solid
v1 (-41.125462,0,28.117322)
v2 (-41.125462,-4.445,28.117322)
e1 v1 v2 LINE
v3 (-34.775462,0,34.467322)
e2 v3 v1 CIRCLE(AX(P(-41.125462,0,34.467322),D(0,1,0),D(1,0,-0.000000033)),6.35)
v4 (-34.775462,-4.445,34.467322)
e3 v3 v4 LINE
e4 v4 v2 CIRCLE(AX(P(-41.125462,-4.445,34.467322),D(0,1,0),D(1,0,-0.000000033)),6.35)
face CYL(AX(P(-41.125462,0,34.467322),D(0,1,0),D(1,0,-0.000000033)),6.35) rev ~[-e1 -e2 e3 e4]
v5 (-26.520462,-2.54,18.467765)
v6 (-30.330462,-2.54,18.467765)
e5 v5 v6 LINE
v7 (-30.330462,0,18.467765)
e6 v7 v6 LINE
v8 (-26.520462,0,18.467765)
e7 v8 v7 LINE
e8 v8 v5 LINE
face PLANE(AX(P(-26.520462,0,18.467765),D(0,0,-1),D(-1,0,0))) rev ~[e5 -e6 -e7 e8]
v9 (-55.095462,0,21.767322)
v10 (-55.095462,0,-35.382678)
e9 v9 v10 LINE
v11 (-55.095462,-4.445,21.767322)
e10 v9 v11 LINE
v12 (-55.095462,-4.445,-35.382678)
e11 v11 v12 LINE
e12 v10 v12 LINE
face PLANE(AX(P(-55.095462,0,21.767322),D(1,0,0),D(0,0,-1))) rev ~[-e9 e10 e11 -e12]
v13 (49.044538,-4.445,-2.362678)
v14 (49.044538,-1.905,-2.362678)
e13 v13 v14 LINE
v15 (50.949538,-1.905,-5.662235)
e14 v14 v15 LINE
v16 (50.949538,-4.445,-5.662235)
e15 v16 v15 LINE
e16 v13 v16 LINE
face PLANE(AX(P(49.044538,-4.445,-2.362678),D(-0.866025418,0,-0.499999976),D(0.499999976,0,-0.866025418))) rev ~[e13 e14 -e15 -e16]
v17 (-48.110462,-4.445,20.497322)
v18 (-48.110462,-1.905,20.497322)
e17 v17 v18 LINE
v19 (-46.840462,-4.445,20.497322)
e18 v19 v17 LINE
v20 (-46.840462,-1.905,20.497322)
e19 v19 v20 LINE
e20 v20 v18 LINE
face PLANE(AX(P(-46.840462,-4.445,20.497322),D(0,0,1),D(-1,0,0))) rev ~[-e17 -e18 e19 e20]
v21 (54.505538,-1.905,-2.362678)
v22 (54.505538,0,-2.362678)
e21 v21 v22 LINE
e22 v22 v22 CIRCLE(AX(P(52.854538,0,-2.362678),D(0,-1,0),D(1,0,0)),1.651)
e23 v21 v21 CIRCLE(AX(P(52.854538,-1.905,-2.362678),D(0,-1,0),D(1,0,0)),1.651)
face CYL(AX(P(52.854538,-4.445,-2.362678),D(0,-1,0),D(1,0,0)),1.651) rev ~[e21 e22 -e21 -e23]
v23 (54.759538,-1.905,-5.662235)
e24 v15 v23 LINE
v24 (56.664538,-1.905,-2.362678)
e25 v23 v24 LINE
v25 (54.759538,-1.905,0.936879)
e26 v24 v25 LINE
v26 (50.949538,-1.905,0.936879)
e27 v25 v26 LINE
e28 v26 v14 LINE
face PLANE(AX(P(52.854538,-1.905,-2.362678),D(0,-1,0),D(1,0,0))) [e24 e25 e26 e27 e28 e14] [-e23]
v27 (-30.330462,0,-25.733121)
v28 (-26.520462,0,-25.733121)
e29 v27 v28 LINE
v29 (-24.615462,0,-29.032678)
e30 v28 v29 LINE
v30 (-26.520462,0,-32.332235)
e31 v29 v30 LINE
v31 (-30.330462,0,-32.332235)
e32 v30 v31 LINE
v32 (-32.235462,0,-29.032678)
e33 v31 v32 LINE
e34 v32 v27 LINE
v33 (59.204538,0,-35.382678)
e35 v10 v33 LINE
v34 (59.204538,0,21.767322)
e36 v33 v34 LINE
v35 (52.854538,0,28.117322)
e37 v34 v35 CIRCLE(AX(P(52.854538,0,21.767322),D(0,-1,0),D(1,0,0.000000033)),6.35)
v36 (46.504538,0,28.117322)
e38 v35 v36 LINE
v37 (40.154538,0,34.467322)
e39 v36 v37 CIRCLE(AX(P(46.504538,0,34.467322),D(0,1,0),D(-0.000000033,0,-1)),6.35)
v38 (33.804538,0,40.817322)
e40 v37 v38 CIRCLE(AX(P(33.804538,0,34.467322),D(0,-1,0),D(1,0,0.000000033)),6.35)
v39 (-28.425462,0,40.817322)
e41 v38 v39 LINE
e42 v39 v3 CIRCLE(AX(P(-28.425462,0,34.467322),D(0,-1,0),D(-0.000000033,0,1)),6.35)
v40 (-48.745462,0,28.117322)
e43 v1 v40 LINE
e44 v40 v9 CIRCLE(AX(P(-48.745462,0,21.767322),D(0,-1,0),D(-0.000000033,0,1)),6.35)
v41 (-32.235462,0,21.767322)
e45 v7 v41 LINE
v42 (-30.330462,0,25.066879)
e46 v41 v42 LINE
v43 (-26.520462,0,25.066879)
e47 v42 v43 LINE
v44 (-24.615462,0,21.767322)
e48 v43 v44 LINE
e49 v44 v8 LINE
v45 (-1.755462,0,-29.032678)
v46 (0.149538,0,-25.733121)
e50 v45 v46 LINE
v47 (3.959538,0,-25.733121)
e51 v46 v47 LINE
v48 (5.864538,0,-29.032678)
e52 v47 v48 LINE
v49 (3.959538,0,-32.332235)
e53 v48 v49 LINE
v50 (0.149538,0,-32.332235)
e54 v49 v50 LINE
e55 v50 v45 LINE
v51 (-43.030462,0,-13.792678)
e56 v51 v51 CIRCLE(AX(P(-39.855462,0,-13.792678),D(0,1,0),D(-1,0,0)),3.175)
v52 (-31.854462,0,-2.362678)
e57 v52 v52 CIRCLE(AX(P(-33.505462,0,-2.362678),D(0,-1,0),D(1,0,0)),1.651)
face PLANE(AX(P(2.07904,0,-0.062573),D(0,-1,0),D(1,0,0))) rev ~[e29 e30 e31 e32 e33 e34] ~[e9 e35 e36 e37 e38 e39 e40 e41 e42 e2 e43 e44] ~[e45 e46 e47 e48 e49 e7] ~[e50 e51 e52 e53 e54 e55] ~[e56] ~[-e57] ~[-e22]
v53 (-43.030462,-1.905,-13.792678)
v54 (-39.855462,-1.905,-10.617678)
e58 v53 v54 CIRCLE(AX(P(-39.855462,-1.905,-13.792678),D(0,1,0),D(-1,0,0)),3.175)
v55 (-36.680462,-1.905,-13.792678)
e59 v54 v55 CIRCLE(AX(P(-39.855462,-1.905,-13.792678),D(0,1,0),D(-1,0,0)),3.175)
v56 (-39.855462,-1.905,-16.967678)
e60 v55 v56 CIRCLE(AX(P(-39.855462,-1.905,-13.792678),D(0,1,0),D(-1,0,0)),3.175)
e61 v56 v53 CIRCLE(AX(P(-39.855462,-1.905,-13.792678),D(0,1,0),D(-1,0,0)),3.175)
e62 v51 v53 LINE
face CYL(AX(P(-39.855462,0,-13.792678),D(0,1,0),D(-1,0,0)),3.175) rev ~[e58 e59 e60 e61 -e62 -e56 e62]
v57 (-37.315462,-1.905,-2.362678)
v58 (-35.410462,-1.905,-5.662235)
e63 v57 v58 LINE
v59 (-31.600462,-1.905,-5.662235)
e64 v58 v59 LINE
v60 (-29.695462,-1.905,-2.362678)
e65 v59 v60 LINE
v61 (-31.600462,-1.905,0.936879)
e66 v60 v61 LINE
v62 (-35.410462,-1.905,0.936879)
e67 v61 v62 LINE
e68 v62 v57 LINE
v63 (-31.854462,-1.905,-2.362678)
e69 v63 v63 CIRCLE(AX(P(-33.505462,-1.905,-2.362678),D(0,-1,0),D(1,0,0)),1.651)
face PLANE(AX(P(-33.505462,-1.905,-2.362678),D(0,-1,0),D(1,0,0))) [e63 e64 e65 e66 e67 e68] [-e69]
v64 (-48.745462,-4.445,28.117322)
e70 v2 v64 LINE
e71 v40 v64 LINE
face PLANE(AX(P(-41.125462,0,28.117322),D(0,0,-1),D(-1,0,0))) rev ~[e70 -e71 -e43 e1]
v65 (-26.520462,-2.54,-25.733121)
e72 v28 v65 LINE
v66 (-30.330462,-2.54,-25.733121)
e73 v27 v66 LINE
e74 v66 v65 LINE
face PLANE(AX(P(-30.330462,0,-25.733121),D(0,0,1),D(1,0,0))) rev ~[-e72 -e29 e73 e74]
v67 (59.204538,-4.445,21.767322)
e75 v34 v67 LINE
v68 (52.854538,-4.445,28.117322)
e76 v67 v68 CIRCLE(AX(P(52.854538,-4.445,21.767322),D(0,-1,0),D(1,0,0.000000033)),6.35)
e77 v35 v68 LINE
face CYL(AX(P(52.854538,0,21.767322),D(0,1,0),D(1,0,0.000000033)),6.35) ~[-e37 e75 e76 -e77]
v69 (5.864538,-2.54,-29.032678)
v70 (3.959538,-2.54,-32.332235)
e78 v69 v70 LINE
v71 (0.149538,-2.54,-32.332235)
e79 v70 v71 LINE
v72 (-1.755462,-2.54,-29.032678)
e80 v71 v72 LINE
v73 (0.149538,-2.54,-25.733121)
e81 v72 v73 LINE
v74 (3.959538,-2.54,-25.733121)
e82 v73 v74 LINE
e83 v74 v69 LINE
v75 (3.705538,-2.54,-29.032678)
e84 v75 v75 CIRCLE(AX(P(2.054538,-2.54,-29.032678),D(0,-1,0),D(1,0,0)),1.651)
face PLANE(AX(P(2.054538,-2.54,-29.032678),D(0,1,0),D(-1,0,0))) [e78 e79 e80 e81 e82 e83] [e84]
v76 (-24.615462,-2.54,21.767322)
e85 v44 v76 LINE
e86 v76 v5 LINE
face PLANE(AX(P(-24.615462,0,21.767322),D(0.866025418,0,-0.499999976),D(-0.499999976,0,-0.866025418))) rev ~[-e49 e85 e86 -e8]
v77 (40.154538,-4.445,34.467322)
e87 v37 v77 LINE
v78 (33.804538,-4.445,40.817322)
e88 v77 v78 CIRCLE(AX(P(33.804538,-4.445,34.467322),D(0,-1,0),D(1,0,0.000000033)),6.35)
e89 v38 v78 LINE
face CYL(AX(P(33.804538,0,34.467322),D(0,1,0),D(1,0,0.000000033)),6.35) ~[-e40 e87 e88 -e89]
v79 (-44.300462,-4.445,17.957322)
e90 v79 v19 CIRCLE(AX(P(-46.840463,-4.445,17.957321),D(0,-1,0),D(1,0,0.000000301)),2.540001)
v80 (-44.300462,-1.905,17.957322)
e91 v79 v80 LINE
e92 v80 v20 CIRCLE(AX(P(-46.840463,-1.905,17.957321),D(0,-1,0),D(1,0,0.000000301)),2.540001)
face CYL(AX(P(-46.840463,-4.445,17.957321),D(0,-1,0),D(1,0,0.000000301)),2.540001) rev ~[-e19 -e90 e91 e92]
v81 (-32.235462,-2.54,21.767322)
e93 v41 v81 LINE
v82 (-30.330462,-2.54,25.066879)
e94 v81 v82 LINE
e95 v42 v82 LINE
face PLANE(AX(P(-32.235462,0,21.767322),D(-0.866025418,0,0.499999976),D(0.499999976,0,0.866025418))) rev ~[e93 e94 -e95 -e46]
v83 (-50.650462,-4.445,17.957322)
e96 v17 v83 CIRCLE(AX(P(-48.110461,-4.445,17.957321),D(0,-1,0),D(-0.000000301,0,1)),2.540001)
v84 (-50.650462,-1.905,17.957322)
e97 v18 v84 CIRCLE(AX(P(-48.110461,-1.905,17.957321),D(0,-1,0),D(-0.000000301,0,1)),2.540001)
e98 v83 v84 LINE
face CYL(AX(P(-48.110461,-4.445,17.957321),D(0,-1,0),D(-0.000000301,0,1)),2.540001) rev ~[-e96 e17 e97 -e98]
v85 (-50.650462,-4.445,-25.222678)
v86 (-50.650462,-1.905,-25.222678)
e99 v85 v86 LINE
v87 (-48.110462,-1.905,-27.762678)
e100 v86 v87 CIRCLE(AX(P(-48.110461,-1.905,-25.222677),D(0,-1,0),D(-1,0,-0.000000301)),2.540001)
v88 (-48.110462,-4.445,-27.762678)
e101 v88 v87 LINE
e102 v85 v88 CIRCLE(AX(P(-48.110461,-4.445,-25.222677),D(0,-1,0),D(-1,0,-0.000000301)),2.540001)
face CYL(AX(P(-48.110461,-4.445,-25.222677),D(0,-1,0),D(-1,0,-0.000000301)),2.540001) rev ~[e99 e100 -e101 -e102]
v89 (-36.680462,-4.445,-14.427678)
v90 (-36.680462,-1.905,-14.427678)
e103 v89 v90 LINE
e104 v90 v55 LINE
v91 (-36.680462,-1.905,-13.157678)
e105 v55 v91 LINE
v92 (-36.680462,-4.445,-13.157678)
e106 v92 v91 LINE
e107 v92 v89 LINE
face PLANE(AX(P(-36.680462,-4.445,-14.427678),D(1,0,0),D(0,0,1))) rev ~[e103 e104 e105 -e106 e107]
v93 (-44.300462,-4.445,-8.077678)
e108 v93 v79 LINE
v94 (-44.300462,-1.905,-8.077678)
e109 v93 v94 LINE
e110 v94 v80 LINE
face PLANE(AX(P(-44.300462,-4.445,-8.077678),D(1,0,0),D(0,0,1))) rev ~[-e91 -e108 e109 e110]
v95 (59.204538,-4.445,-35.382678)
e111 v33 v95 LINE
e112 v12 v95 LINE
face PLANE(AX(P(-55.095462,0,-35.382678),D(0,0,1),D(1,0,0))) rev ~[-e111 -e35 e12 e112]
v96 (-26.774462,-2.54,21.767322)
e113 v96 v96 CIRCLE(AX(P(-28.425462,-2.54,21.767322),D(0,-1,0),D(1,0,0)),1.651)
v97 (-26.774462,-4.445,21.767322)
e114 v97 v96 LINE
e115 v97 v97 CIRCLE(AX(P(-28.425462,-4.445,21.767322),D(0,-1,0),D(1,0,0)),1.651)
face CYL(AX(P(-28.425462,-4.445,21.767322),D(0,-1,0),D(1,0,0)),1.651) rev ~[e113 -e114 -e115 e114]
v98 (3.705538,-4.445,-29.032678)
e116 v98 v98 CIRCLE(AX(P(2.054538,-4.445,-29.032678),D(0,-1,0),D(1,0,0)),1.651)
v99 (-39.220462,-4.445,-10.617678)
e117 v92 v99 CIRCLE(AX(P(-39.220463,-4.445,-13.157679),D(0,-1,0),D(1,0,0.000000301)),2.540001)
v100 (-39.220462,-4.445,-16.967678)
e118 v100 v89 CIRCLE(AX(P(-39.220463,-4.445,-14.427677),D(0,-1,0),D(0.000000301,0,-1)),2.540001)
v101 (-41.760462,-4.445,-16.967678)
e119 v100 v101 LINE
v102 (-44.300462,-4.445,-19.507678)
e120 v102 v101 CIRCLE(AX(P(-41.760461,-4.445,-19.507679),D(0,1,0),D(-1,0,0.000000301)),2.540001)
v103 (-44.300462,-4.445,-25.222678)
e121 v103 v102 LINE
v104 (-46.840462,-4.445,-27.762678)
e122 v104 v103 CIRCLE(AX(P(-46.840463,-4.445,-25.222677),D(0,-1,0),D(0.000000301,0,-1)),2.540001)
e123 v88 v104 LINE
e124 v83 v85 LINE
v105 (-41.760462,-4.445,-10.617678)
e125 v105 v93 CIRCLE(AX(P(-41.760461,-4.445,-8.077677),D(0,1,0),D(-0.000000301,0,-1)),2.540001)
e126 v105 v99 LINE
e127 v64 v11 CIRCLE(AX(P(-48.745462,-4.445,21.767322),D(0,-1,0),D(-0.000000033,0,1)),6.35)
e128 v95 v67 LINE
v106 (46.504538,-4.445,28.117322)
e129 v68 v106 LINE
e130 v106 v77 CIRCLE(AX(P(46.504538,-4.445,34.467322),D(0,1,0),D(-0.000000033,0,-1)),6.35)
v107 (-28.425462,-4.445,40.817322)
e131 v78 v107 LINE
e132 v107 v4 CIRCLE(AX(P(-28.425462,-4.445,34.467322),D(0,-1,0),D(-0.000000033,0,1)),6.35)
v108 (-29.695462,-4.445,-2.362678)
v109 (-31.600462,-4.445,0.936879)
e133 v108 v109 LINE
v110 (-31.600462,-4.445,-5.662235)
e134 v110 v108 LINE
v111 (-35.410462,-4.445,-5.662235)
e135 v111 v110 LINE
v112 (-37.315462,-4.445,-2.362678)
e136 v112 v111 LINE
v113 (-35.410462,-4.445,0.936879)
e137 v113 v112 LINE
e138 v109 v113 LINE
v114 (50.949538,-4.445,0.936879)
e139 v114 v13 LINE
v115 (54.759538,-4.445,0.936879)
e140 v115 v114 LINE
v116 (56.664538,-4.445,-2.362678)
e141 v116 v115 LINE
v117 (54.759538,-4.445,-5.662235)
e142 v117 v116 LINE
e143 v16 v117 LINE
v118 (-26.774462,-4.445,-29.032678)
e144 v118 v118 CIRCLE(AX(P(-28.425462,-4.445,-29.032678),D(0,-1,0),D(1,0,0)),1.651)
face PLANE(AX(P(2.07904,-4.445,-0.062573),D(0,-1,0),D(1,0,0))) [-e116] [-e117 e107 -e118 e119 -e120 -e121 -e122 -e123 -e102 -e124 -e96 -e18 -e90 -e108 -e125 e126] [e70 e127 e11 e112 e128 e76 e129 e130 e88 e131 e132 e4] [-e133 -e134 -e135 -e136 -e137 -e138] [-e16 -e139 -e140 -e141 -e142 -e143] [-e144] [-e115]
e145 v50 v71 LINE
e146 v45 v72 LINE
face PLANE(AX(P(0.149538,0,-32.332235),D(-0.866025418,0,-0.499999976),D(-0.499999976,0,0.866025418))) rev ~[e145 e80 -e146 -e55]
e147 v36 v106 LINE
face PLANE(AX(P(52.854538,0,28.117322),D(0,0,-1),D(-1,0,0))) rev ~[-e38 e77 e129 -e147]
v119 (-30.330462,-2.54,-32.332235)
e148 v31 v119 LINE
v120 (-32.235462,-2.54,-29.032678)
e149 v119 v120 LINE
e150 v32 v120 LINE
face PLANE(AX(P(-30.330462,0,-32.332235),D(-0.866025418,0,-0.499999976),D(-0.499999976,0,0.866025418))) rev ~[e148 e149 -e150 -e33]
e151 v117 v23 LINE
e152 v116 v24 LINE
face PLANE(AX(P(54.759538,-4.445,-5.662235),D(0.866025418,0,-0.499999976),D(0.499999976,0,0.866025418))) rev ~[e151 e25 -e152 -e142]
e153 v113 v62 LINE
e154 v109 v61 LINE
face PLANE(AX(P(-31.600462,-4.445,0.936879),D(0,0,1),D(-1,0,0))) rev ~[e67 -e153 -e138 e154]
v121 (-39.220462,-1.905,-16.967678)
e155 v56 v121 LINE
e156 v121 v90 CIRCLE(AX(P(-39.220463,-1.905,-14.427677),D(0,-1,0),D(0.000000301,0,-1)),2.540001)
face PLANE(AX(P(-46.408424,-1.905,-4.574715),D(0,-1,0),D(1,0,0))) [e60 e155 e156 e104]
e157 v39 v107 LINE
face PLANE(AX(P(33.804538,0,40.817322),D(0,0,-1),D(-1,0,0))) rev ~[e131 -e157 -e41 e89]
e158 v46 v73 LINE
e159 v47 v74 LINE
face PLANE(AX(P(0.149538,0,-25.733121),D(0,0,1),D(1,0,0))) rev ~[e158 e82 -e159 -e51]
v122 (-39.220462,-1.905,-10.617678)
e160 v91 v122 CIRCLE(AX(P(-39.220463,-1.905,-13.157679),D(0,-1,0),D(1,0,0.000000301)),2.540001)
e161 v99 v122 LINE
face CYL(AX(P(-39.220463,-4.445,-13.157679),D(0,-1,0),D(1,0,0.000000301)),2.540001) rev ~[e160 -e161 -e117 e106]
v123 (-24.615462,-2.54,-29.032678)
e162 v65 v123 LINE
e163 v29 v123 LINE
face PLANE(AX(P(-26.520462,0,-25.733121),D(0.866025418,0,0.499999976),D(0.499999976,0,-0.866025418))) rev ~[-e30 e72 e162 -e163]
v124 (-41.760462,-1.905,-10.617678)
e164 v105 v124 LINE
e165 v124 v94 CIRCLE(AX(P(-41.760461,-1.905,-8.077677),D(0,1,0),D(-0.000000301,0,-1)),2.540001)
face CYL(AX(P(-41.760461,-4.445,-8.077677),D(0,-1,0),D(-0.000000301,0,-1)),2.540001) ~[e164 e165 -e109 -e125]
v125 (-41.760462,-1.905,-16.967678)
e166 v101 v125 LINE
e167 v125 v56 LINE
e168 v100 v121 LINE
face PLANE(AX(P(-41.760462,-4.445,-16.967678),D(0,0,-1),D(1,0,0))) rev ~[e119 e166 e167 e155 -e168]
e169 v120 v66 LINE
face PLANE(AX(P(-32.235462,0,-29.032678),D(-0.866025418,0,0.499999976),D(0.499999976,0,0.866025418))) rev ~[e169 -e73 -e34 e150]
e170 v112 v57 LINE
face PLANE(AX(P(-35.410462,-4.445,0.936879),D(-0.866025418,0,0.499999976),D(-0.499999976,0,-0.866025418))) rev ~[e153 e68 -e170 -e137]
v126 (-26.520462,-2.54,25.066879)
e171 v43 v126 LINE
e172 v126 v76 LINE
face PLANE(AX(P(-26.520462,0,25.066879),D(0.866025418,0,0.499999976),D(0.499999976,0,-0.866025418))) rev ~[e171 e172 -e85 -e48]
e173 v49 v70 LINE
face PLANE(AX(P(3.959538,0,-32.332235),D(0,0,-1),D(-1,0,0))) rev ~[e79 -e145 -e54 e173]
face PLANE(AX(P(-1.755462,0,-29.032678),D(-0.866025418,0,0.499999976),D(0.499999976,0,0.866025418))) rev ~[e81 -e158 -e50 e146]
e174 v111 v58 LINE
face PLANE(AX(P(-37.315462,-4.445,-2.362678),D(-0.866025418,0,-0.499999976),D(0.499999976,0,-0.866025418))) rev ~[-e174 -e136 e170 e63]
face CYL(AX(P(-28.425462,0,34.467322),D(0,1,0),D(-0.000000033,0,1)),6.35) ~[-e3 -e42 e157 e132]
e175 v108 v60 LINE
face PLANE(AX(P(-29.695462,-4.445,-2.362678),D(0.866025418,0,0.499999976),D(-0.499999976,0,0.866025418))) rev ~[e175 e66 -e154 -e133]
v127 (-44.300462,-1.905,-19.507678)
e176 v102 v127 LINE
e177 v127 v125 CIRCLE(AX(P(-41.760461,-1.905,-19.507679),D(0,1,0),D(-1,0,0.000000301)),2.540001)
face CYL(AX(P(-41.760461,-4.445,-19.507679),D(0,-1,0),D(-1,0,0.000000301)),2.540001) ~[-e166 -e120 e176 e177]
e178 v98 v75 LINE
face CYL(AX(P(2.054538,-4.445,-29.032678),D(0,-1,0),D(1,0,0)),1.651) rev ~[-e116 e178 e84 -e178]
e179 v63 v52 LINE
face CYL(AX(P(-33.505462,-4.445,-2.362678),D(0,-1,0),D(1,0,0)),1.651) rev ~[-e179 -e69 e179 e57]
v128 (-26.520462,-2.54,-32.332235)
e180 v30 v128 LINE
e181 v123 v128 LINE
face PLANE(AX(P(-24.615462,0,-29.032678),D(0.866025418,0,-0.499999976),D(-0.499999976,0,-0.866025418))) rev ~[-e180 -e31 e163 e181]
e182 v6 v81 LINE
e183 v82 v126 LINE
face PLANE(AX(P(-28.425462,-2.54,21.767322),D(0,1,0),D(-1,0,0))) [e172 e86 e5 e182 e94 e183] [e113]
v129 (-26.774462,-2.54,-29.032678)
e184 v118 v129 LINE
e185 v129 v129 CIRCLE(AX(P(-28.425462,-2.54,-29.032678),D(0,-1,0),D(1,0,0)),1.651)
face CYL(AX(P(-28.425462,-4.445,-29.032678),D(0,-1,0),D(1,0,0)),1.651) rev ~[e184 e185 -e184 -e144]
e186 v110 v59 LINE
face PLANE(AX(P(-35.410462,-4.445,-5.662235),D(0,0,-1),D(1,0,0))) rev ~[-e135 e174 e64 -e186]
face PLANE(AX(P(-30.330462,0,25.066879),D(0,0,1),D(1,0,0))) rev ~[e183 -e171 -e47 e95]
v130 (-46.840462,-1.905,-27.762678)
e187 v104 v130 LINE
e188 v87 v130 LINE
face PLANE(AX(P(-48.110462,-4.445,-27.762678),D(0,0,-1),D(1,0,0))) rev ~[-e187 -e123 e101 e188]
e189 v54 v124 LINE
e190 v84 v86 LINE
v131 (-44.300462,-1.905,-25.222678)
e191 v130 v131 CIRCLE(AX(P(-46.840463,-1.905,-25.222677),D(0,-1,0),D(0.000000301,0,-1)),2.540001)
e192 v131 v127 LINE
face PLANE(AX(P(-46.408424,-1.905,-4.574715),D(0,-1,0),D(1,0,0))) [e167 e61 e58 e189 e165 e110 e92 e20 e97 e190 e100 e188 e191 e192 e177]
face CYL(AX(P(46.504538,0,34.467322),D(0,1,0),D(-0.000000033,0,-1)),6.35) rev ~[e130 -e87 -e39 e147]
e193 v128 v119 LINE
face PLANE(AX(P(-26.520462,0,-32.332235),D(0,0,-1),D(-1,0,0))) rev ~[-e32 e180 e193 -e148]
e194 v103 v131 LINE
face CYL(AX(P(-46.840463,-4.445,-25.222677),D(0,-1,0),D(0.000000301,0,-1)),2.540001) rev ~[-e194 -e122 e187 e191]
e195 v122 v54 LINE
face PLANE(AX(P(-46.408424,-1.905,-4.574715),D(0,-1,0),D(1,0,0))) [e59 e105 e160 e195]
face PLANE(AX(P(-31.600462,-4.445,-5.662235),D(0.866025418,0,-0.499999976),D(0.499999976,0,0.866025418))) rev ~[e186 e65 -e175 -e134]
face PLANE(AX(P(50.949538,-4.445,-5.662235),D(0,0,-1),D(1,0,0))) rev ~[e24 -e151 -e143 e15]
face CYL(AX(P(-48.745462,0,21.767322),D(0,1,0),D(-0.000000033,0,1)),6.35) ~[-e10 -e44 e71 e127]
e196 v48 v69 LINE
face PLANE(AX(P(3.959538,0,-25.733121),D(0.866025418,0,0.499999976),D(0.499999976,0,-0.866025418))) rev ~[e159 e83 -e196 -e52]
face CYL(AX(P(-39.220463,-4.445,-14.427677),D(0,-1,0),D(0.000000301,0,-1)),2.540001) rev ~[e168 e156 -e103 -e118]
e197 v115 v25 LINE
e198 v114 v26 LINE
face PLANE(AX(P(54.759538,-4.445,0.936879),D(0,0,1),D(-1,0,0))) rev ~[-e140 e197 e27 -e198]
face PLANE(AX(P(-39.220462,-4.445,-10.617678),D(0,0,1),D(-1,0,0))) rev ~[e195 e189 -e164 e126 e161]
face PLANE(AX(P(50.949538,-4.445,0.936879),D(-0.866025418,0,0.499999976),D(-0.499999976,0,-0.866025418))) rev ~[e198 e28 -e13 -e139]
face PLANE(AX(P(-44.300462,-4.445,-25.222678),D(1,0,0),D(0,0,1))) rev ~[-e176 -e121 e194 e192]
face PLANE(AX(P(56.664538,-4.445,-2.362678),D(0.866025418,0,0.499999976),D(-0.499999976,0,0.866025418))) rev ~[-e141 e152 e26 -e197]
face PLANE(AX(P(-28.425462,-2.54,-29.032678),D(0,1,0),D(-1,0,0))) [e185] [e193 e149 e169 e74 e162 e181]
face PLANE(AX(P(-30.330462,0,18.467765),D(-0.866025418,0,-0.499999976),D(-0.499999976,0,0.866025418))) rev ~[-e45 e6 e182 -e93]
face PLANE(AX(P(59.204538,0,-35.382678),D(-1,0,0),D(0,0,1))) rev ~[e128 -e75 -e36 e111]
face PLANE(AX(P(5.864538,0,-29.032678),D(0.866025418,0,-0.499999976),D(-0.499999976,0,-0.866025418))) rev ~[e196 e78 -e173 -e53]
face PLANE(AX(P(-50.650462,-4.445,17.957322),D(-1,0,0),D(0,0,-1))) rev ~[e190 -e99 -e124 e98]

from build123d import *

# Parameters (mm, degrees)
F1_DEPTH  = 4.445
F2_R      = 1.651
F3_DEPTH  = 4.446
F4_R      = 1.651
F5_DEPTH  = 4.446
F7_DEPTH  = 2.54
F9_DEPTH  = 2.54
F10_R     = 3.175
F11_DEPTH = 4.446
F13_DEPTH = 2.54


with BuildPart() as f1:
    # F0 (on Front) → F1 (new body)
    with BuildSketch(Plane.XZ):
        with BuildLine():
            Line((33.804538, 40.817322), (-28.425462, 40.817322))
            ThreePointArc((-28.425462, 40.817322), (-32.91559, 38.95745), (-34.775462, 34.467322))
            ThreePointArc((-34.775462, 34.467322), (-36.635334, 29.977194), (-41.125462, 28.117322))
            Line((-41.125462, 28.117322), (-48.745462, 28.117322))
            ThreePointArc((-48.745462, 28.117322), (-53.23559, 26.25745), (-55.095462, 21.767322))
            Line((-55.095462, 21.767322), (-55.095462, -35.382678))
            Line((-55.095462, -35.382678), (59.204538, -35.382678))
            Line((59.204538, -35.382678), (59.204538, 21.767322))
            ThreePointArc((59.204538, 21.767322), (57.344666, 26.25745), (52.854538, 28.117322))
            Line((52.854538, 28.117322), (46.504538, 28.117322))
            ThreePointArc((46.504538, 28.117322), (42.01441, 29.977194), (40.154538, 34.467322))
            ThreePointArc((40.154538, 34.467322), (38.294666, 38.95745), (33.804538, 40.817322))
        make_face()
    extrude(amount=F1_DEPTH)

    # F2 (on face) → F3 (cut, through all)
    with BuildSketch(Plane.XZ.offset(4.445)):
        with Locations((-28.425462, -29.032678)):
            Circle(F2_R)
        with Locations((2.054538, -29.032678)):
            Circle(F2_R)
        with Locations((-28.425462, 21.767322)):
            Circle(F2_R)
    extrude(amount=-F3_DEPTH, mode=Mode.SUBTRACT)

    # F4 (on face) → F5 (cut, through all)
    with BuildSketch(Plane.XZ.offset(4.445)):
        with Locations((-33.505462, -2.362678)):
            Circle(F4_R)
        with Locations((52.854538, -2.362678)):
            Circle(F4_R)
    extrude(amount=-F5_DEPTH, mode=Mode.SUBTRACT)

    # F6 (on face) → F7 (cut)
    with BuildSketch(Plane.XZ.offset(4.445)):
        Polygon((-29.695462, -2.362678), (-31.600462, 0.936879), (-35.410462, 0.936879), (-37.315462, -2.362678), (-35.410462, -5.662235), (-31.600462, -5.662235), align=None)
        Polygon((54.759538, 0.936879), (50.949538, 0.936879), (49.044538, -2.362678), (50.949538, -5.662235), (54.759538, -5.662235), (56.664538, -2.362678), align=None)
    extrude(amount=-F7_DEPTH, mode=Mode.SUBTRACT)

    # F8 (on face) → F9 (cut)
    with BuildSketch(Plane(origin=(0, 0, 0), x_dir=(-1, 0, 0), z_dir=(0, 1, 0))):
        Polygon((30.330462, 18.467765), (32.235462, 21.767322), (30.330462, 25.066879), (26.520462, 25.066879), (24.615462, 21.767322), (26.520462, 18.467765), align=None)
        Polygon((32.235462, -29.032678), (30.330462, -25.733121), (26.520462, -25.733121), (24.615462, -29.032678), (26.520462, -32.332235), (30.330462, -32.332235), align=None)
        Polygon((-0.149538, -25.733121), (-3.959538, -25.733121), (-5.864538, -29.032678), (-3.959538, -32.332235), (-0.149538, -32.332235), (1.755462, -29.032678), align=None)
    extrude(amount=-F9_DEPTH, mode=Mode.SUBTRACT)

    # F10 (on face) → F11 (cut, through all)
    with BuildSketch(Plane(origin=(0, 0, 0), x_dir=(-1, 0, 0), z_dir=(0, 1, 0))):
        with Locations((39.855462, -13.792678)):
            Circle(F10_R)
    extrude(amount=-F11_DEPTH, mode=Mode.SUBTRACT)

    # F12 (on face) → F13 (cut)
    with BuildSketch(Plane.XZ.offset(4.445)):
        with BuildLine():
            Line((-46.840462, 20.497322), (-48.110462, 20.497322))
            ThreePointArc((-48.110462, 20.497322), (-49.906513, 19.753373), (-50.650462, 17.957322))
            Line((-50.650462, 17.957322), (-50.650462, -10.617678))
            Line((-50.650462, -10.617678), (-50.650462, -16.967678))
            Line((-50.650462, -16.967678), (-50.650462, -25.222678))
            ThreePointArc((-50.650462, -25.222678), (-49.906513, -27.018729), (-48.110462, -27.762678))
            Line((-48.110462, -27.762678), (-46.840462, -27.762678))
            ThreePointArc((-46.840462, -27.762678), (-45.044411, -27.018729), (-44.300462, -25.222678))
            Line((-44.300462, -25.222678), (-44.300462, -19.507678))
            ThreePointArc((-44.300462, -19.507678), (-43.556513, -17.711627), (-41.760462, -16.967678))
            Line((-41.760462, -16.967678), (-39.220462, -16.967678))
            ThreePointArc((-39.220462, -16.967678), (-37.424411, -16.223729), (-36.680462, -14.427678))
            Line((-36.680462, -14.427678), (-36.680462, -13.157678))
            ThreePointArc((-36.680462, -13.157678), (-37.424411, -11.361627), (-39.220462, -10.617678))
            Line((-39.220462, -10.617678), (-41.760462, -10.617678))
            ThreePointArc((-41.760462, -10.617678), (-43.556513, -9.873729), (-44.300462, -8.077678))
            Line((-44.300462, -8.077678), (-44.300462, 17.957322))
            ThreePointArc((-44.300462, 17.957322), (-45.044411, 19.753373), (-46.840462, 20.497322))
        make_face()
    extrude(amount=-F13_DEPTH, mode=Mode.SUBTRACT)


solid = f1.part
